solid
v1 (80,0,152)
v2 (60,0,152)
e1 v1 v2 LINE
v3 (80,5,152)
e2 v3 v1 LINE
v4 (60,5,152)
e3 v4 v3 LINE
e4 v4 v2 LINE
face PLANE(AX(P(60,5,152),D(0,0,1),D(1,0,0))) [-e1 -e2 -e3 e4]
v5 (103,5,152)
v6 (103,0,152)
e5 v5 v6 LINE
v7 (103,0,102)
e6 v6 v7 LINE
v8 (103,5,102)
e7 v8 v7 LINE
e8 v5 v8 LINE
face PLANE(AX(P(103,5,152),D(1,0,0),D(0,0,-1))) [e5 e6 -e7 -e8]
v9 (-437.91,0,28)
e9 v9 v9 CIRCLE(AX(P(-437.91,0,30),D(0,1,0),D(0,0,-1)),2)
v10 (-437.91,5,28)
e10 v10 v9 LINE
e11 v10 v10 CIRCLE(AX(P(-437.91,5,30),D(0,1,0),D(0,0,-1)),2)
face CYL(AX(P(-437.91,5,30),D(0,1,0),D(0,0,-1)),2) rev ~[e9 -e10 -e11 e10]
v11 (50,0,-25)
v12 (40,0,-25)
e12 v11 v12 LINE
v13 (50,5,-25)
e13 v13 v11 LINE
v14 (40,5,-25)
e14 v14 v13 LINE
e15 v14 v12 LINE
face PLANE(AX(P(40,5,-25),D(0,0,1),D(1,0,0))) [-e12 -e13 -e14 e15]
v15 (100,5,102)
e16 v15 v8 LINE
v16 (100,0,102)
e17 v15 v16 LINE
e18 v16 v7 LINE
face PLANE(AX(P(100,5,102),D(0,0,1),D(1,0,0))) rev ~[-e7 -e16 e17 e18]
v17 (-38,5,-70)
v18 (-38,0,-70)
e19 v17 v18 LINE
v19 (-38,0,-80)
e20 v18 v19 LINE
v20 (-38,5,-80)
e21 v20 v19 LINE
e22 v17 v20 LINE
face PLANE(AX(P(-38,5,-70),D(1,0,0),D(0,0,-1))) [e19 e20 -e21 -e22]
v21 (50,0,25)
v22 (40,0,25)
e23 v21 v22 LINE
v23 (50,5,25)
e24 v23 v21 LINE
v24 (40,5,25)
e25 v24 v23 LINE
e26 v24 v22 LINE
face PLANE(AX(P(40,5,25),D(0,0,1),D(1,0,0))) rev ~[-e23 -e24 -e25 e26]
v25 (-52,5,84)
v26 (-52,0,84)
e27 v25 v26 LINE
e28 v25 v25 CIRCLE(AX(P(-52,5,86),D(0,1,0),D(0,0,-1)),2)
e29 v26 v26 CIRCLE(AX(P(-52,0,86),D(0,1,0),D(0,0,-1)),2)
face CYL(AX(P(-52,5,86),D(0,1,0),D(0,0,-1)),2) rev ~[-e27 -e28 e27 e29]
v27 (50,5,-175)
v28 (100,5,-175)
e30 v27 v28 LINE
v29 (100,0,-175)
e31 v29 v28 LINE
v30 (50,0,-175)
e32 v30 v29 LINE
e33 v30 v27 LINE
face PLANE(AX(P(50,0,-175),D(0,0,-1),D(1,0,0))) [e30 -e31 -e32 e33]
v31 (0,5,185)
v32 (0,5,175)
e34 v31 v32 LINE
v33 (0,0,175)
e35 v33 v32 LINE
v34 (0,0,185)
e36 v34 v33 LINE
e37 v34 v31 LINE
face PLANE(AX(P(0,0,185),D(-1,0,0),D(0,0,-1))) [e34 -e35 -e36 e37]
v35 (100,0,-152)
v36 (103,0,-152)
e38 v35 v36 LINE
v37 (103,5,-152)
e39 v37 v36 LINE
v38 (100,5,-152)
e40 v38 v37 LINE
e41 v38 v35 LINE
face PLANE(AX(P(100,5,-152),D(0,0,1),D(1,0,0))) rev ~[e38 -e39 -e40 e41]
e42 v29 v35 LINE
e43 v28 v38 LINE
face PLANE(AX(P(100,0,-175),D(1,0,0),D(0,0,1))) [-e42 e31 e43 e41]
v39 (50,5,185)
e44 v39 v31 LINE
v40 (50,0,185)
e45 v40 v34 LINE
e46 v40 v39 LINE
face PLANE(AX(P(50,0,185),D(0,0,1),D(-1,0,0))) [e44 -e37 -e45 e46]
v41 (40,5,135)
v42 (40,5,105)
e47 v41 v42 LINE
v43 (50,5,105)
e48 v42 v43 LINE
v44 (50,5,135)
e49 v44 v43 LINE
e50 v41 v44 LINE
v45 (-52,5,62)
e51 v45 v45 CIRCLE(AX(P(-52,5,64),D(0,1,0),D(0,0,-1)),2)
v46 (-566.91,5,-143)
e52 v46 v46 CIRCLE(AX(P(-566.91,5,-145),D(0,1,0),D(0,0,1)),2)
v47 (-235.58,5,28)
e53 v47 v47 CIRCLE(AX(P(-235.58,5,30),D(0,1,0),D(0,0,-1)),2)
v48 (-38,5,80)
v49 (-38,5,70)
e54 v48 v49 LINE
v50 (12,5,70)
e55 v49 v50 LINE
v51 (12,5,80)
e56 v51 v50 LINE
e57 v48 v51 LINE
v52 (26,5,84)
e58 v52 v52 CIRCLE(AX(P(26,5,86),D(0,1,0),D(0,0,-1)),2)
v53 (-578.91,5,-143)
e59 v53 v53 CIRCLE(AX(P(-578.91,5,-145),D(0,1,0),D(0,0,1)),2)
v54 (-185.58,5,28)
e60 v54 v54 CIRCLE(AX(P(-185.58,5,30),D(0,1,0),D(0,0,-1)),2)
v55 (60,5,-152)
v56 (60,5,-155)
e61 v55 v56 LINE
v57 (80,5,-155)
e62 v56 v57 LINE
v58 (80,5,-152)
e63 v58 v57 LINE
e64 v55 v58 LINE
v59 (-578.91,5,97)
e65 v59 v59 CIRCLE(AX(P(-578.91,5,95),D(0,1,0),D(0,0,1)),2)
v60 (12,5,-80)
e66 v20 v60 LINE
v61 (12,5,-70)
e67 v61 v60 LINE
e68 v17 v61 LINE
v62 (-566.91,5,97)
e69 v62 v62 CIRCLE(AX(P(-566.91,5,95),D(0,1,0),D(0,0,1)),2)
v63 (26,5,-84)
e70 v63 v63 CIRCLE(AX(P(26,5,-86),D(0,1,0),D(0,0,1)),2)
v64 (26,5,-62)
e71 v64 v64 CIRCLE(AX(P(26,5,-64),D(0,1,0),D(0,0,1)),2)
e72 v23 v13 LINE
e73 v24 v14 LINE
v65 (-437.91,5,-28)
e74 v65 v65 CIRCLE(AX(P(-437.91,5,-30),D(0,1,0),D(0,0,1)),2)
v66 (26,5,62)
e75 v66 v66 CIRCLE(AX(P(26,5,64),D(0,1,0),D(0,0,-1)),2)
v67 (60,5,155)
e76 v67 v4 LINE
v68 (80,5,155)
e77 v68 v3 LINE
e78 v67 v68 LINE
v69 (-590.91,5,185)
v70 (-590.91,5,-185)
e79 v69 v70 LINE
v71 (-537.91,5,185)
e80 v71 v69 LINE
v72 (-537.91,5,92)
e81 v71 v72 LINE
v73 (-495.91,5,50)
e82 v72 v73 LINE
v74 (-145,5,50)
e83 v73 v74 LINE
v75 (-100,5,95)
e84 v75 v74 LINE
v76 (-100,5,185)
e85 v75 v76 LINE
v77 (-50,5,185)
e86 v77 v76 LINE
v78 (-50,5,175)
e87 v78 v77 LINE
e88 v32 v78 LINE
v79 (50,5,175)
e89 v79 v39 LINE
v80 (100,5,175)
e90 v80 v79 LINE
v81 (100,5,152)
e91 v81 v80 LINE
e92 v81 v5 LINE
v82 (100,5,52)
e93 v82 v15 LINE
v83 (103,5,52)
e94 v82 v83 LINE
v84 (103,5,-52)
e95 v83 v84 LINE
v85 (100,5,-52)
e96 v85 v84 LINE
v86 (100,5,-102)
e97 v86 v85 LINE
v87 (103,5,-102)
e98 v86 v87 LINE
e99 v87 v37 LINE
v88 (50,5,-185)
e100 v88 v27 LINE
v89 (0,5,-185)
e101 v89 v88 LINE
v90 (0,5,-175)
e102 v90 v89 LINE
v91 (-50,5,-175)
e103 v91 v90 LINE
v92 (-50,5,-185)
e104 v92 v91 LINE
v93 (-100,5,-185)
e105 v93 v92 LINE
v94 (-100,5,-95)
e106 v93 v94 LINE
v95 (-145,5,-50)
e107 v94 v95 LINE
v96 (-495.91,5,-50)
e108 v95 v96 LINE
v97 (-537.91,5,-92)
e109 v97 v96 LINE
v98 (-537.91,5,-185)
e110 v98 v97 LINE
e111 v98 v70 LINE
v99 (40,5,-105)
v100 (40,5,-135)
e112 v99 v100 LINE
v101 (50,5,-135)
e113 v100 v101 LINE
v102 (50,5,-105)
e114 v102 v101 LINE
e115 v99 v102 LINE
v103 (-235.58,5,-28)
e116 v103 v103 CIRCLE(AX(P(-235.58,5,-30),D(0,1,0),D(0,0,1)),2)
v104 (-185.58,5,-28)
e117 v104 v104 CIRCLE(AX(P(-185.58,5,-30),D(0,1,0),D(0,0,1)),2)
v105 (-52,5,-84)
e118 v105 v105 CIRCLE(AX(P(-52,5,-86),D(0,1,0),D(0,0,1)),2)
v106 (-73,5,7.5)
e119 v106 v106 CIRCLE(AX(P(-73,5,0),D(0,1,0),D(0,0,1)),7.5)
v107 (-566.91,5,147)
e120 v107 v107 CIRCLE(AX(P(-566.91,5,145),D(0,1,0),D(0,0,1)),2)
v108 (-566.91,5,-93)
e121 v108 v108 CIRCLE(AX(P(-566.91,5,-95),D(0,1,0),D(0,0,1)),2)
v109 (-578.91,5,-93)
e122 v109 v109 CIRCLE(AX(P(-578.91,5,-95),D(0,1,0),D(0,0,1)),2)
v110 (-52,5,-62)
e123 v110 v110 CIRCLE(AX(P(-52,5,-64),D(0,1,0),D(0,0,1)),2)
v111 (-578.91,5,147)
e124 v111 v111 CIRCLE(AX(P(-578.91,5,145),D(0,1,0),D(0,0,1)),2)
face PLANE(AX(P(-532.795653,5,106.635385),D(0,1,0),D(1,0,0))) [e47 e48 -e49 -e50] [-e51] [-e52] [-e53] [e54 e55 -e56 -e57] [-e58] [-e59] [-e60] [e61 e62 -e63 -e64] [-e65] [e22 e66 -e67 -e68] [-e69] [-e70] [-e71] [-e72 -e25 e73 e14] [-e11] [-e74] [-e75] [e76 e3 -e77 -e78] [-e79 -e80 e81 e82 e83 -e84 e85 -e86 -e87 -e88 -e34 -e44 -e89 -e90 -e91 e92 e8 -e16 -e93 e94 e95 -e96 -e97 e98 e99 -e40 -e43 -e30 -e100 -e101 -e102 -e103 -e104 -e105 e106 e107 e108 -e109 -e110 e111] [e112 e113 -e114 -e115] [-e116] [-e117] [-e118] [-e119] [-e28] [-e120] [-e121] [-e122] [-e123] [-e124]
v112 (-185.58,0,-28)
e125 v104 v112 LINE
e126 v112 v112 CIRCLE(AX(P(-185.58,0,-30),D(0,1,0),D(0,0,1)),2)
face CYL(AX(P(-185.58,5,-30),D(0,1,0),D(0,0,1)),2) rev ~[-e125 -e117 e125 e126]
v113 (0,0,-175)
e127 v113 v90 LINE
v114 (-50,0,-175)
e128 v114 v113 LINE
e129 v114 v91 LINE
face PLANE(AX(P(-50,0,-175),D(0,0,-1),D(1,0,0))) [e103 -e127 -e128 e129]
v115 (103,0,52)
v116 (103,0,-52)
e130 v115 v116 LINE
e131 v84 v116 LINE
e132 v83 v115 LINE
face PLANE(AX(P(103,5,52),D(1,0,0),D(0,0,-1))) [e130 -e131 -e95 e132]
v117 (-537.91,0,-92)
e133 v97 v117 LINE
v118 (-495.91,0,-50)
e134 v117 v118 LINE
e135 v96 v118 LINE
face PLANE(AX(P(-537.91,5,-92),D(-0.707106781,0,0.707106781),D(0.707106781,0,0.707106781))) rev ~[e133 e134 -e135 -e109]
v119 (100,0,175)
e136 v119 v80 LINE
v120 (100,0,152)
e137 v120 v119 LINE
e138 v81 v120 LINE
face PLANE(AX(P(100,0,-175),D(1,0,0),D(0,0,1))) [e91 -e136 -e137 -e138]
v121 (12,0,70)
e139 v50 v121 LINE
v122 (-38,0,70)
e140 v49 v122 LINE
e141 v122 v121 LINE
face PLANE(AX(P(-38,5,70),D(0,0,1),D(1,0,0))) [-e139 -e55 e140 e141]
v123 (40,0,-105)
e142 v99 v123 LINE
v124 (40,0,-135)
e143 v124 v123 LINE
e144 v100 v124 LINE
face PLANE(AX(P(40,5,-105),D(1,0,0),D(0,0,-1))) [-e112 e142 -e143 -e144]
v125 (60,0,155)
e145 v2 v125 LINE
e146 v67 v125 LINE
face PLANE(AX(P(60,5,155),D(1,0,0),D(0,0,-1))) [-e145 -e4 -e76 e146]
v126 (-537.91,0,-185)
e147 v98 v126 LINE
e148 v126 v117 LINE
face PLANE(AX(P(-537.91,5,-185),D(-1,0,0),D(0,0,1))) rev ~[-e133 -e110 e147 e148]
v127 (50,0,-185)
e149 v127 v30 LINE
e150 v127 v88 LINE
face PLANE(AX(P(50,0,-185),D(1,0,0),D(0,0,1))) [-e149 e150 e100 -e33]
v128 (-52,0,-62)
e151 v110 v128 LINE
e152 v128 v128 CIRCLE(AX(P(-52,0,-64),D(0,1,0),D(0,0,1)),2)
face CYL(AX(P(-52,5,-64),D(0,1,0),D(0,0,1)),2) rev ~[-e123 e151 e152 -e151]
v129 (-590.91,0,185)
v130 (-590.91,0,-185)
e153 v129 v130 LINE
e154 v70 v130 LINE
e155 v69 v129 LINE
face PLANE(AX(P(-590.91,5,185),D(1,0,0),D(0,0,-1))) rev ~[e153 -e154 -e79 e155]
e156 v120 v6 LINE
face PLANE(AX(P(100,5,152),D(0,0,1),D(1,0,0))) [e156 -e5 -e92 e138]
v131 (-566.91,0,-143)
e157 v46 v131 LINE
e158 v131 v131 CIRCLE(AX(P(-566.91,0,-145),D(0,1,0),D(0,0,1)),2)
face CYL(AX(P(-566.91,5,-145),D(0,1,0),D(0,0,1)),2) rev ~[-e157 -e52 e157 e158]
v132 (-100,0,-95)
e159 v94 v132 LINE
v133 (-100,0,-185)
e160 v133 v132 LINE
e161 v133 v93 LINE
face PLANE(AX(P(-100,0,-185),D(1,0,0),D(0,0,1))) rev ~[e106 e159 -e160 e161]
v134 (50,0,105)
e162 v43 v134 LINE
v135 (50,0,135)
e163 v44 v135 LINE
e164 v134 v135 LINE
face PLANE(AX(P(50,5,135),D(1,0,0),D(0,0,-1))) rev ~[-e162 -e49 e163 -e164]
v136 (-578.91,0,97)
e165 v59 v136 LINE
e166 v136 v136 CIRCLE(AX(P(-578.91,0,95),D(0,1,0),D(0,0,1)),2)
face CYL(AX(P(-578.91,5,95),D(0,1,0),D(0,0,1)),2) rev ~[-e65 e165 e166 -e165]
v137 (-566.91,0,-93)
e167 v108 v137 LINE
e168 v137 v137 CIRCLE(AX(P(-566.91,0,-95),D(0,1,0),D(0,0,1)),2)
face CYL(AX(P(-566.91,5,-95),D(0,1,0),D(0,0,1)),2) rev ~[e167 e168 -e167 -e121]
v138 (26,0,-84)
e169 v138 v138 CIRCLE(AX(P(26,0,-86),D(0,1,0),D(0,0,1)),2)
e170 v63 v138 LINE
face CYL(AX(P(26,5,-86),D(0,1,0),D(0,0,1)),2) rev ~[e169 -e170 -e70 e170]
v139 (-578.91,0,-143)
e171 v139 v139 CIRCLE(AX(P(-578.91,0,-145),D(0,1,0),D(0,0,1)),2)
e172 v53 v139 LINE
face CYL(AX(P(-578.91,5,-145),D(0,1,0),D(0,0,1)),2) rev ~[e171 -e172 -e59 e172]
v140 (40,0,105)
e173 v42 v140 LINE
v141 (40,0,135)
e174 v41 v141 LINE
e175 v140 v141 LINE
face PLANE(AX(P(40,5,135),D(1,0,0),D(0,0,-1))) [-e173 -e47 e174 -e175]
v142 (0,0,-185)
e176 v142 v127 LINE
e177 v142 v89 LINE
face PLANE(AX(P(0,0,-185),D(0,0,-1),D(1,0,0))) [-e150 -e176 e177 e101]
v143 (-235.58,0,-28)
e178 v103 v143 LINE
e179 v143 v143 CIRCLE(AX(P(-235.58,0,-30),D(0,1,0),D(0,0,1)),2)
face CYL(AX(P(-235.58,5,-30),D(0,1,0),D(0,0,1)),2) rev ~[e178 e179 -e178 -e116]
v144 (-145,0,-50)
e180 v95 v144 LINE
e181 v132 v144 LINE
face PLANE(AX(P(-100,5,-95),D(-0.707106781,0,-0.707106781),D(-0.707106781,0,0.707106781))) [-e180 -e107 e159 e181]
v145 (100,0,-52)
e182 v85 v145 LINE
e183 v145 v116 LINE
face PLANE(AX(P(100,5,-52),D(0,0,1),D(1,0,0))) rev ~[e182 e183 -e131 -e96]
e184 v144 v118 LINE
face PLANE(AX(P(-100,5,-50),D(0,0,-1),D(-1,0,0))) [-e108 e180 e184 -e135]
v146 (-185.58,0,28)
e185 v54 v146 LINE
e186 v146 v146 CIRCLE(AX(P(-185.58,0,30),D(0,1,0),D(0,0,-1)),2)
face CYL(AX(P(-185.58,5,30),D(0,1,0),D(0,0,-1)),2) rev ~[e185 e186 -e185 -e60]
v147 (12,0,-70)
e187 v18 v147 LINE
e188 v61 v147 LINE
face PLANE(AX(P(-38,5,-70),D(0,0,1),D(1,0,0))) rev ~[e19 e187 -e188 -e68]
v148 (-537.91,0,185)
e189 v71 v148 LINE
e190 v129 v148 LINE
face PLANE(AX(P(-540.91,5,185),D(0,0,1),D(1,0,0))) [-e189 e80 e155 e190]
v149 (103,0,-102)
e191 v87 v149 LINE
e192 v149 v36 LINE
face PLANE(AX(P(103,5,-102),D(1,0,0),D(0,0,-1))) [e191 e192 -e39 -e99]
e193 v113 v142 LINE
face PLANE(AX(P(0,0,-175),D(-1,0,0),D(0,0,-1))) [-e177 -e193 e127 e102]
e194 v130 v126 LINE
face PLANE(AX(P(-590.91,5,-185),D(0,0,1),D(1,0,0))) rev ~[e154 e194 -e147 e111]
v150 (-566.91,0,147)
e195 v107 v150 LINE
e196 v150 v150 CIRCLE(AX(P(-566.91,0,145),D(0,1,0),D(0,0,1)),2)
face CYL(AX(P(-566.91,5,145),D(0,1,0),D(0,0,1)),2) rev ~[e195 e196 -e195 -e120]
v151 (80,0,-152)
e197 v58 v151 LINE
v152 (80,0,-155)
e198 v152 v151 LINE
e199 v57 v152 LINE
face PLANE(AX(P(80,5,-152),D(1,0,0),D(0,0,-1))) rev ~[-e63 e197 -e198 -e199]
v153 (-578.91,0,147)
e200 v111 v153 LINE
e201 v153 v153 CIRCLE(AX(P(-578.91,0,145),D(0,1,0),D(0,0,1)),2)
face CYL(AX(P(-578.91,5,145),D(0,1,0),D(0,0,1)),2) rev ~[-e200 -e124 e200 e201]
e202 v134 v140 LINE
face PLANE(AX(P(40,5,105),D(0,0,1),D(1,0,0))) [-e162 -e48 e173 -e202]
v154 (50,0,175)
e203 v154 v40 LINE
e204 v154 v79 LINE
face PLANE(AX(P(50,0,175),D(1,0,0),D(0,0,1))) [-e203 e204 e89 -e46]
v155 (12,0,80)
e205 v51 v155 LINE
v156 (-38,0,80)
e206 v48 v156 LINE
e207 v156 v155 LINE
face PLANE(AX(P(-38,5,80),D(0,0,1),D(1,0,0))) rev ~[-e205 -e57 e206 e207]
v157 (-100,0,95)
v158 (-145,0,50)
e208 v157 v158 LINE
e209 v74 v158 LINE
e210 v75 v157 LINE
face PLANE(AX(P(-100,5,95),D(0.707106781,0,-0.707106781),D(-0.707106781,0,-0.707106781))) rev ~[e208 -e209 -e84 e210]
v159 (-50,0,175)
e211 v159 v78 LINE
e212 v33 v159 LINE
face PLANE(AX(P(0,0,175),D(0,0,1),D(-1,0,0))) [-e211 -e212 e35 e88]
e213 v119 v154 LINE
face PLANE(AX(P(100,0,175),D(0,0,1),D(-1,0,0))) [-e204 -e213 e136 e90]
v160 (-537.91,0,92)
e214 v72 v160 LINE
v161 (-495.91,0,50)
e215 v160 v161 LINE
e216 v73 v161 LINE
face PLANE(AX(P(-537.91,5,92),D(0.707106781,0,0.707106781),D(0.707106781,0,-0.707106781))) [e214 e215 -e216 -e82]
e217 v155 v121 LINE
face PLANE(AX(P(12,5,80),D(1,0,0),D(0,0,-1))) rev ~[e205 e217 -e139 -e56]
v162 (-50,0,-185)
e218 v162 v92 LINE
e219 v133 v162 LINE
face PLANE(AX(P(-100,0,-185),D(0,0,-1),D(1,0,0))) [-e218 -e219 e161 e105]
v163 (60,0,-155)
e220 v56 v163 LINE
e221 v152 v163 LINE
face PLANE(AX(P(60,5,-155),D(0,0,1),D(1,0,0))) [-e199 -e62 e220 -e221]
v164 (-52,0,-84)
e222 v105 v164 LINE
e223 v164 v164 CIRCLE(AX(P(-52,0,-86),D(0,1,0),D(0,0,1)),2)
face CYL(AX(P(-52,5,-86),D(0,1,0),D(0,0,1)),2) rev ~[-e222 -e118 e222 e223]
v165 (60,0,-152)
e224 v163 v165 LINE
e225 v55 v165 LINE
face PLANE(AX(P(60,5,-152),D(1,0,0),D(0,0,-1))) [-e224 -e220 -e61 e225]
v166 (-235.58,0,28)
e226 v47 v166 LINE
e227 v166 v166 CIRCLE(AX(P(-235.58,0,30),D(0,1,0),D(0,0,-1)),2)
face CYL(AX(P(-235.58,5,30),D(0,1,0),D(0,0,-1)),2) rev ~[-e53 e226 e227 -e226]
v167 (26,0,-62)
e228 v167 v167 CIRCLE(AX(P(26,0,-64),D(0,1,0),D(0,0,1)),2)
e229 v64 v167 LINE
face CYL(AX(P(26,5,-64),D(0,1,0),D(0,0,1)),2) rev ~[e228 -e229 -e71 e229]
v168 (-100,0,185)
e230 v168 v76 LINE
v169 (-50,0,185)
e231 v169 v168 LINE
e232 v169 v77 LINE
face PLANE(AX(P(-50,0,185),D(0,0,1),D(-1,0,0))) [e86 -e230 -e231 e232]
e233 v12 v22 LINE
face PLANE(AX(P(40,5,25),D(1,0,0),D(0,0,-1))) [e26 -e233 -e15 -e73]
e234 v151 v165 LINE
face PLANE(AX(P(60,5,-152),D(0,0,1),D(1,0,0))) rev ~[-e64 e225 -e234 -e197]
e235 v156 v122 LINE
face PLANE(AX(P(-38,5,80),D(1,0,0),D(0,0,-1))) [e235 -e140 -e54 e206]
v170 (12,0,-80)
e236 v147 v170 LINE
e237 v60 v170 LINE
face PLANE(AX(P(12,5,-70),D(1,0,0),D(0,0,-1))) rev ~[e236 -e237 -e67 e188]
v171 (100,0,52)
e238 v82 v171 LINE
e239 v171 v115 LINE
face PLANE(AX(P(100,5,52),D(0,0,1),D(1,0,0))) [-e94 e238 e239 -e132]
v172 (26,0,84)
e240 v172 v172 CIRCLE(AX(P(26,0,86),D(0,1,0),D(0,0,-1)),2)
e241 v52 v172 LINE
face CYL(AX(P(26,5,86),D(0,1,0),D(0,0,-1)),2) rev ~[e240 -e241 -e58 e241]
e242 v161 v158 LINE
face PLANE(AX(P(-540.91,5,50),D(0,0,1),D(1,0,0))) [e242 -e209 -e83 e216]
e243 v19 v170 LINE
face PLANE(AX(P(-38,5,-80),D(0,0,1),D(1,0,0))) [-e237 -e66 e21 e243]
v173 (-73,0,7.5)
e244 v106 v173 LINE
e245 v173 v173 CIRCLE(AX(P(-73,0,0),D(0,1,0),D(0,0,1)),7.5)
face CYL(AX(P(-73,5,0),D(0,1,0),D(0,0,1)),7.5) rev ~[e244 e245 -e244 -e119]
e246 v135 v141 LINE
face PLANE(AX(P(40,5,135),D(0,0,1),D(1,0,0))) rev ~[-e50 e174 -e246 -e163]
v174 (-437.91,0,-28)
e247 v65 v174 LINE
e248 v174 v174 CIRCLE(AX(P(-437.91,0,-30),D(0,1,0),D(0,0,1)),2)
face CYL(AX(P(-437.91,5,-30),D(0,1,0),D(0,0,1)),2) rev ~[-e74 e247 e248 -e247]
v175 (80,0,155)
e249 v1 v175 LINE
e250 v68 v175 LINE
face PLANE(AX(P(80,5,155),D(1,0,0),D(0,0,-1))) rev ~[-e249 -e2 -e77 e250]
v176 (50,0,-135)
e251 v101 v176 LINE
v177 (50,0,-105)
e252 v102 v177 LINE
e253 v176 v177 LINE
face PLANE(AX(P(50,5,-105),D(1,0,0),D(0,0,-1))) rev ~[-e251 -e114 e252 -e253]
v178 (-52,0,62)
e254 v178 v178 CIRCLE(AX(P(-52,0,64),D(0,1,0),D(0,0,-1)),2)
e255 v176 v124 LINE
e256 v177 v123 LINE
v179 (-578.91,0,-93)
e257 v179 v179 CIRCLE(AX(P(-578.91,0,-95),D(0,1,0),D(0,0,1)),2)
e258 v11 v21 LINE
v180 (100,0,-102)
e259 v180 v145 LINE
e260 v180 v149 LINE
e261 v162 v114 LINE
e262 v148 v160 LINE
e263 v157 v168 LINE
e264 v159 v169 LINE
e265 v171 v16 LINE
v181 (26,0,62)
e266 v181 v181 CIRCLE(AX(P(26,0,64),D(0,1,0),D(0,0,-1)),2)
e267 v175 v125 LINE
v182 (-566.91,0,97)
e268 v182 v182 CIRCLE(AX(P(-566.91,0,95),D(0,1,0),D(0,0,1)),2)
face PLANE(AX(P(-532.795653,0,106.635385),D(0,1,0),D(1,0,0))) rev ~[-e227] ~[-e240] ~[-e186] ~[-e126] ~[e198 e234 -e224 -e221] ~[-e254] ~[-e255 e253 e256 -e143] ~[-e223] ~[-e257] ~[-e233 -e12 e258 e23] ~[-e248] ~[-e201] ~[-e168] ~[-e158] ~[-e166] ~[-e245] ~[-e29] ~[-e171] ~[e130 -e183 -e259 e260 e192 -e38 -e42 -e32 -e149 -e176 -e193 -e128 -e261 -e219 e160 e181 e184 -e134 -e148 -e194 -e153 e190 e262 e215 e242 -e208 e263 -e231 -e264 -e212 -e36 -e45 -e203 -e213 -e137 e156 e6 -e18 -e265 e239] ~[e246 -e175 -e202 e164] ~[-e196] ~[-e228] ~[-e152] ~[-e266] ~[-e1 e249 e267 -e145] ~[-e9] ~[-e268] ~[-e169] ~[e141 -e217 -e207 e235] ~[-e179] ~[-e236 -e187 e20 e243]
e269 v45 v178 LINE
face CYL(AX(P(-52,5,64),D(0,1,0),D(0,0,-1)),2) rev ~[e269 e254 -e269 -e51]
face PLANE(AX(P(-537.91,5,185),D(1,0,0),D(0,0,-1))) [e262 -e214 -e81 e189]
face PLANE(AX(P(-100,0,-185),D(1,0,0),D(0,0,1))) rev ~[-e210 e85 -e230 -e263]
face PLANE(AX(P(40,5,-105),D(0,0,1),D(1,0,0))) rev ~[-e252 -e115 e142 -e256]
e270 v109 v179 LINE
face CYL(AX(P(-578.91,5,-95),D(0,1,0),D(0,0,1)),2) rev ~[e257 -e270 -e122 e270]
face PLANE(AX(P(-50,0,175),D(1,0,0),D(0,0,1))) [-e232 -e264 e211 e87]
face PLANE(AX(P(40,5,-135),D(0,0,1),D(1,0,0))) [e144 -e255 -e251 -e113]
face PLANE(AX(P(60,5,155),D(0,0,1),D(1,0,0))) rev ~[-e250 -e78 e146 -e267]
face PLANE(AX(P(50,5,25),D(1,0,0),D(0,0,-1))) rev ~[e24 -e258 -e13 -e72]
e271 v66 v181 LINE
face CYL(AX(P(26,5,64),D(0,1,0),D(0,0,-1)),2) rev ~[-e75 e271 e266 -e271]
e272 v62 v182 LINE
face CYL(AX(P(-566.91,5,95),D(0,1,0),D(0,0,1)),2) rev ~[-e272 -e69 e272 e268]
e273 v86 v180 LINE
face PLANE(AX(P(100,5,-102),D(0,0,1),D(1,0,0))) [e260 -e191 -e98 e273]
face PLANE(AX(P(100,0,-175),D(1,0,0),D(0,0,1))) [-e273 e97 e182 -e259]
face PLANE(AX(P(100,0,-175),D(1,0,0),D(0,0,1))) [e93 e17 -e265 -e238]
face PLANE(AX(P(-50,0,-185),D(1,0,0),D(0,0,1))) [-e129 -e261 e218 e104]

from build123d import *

# Parameters (mm, degrees)
EXTRUDE_1_DEPTH     = 5
SKETCH_2_W          = 20
SKETCH_2_H          = 3
SKETCH_2_W_2        = 10
SKETCH_2_H_2        = 30
SKETCH_2_H_3        = 50
CUT_EXTRUDE_1_DEPTH = 211.35683968
EXTRUDE_2_DEPTH     = 5
SKETCH_4_R          = 2
CUT_EXTRUDE_2_DEPTH = 620.212910153
SKETCH_6_W          = 3
SKETCH_6_H          = 50
SKETCH_6_H_2        = 104
EXTRUDE_3_DEPTH     = 5
EXTRUDE_4_DEPTH     = 5
SKETCH_8_R          = 2
SKETCH_8_W          = 50
SKETCH_8_H          = 10
CUT_EXTRUDE_3_DEPTH = 620.212910153
SKETCH_9_R          = 2
CUT_EXTRUDE_4_DEPTH = 620.212910153
SKETCH_10_R         = 7.5
CUT_EXTRUDE_5_DEPTH = 620.212910153


with BuildPart() as part:
    # 스케치1 → 보스-돌출1 (new body)
    with BuildSketch(Plane(origin=(0, 0, 0), x_dir=(1, 0, 0), z_dir=(0, 1, 0))):
        Polygon((-50, 175), (0, 175), (0, 185), (50, 185), (50, 175), (100, 175), (100, -175), (50, -175), (50, -185), (0, -185), (0, -175), (-50, -175), (-50, -185), (-100, -185), (-100, -175), (-100, 175), (-100, 185), (-50, 185), align=None)
    extrude(amount=EXTRUDE_1_DEPTH)

    # 스케치2 → 컷-돌출1 (cut, through all)
    with BuildSketch(Plane(origin=(0, 5, 0), x_dir=(1, 0, 0), z_dir=(0, 1, 0))):
        with Locations((70, 153.5)):
            Rectangle(SKETCH_2_W, SKETCH_2_H)
        with Locations((70, -153.5)):
            Rectangle(SKETCH_2_W, SKETCH_2_H)
        with Locations((45, 120)):
            Rectangle(SKETCH_2_W_2, SKETCH_2_H_2)
        with Locations((45, -120)):
            Rectangle(SKETCH_2_W_2, SKETCH_2_H_2)
        with Locations((45, 0)):
            Rectangle(SKETCH_2_W_2, SKETCH_2_H_3)
    extrude(amount=-CUT_EXTRUDE_1_DEPTH, mode=Mode.SUBTRACT)

    # 스케치3 → 보스-돌출2 (add)
    with BuildSketch(Plane(origin=(0, 5, 0), x_dir=(1, 0, 0), z_dir=(0, 1, 0))):
        Polygon((-540.91, 50), (-225, 50), (-100, 50), (-100, -50), (-225, -50), (-540.91, -50), (-540.91, -185), (-590.91, -185), (-590.91, 185), (-540.91, 185), align=None)
    extrude(amount=-EXTRUDE_2_DEPTH)

    # 스케치4 → 컷-돌출2 (cut, through all)
    with BuildSketch(Plane(origin=(0, 5, 0), x_dir=(1, 0, 0), z_dir=(0, 1, 0))):
        with Locations(Location((-578.91, 145, 0), (0, 0, 270))):
            Circle(SKETCH_4_R)
        with Locations(Location((-578.91, 95, 0), (0, 0, 270))):
            Circle(SKETCH_4_R)
        with Locations(Location((-566.91, 145, 0), (0, 0, 270))):
            Circle(SKETCH_4_R)
        with Locations(Location((-566.91, 95, 0), (0, 0, 270))):
            Circle(SKETCH_4_R)
        with Locations(Location((-578.91, -145, 0), (0, 0, 270))):
            Circle(SKETCH_4_R)
        with Locations(Location((-578.91, -95, 0), (0, 0, 270))):
            Circle(SKETCH_4_R)
        with Locations(Location((-566.91, -95, 0), (0, 0, 270))):
            Circle(SKETCH_4_R)
        with Locations(Location((-566.91, -145, 0), (0, 0, 270))):
            Circle(SKETCH_4_R)
    extrude(amount=-CUT_EXTRUDE_2_DEPTH, mode=Mode.SUBTRACT)

    # 스케치6 → 보스-돌출3 (add)
    with BuildSketch(Plane(origin=(0, 5, 0), x_dir=(1, 0, 0), z_dir=(0, 1, 0))):
        with Locations((101.5, -127)):
            Rectangle(SKETCH_6_W, SKETCH_6_H)
        with Locations((101.5, 127)):
            Rectangle(SKETCH_6_W, SKETCH_6_H)
        with Locations((101.5, 0)):
            Rectangle(SKETCH_6_W, SKETCH_6_H_2)
    extrude(amount=-EXTRUDE_3_DEPTH)

    # 스케치7 → 보스-돌출4 (add)
    with BuildSketch(Plane(origin=(0, 5, 0), x_dir=(1, 0, 0), z_dir=(0, 1, 0))):
        Polygon((-540.91, -185), (-537.91, -185), (-537.91, -92), (-495.91, -50), (-540.91, -50), align=None)
        Polygon((-537.91, 92), (-495.91, 50), (-540.91, 50), (-540.91, 185), (-537.91, 185), align=None)
        Polygon((-100, 95), (-145, 50), (-100, 50), align=None)
        Polygon((-100, -95), (-145, -50), (-100, -50), align=None)
    extrude(amount=-EXTRUDE_4_DEPTH)

    # 스케치8 → 컷-돌출3 (cut, through all)
    with BuildSketch(Plane(origin=(0, 5, 0), x_dir=(1, 0, 0), z_dir=(0, 1, 0))):
        with Locations(Location((-52, 86, 0), (0, 0, 270))):
            Circle(SKETCH_8_R)
        with Locations(Location((-52, 64, 0), (0, 0, 270))):
            Circle(SKETCH_8_R)
        with Locations(Location((26, 86, 0), (0, 0, 270))):
            Circle(SKETCH_8_R)
        with Locations(Location((26, 64, 0), (0, 0, 270))):
            Circle(SKETCH_8_R)
        with Locations(Location((-52, -86, 0), (0, 0, 90))):
            Circle(SKETCH_8_R)
        with Locations(Location((-52, -64, 0), (0, 0, 90))):
            Circle(SKETCH_8_R)
        with Locations(Location((26, -64, 0), (0, 0, 90))):
            Circle(SKETCH_8_R)
        with Locations(Location((26, -86, 0), (0, 0, 90))):
            Circle(SKETCH_8_R)
        with Locations((-13, 75)):
            Rectangle(SKETCH_8_W, SKETCH_8_H)
        with Locations((-13, -75)):
            Rectangle(SKETCH_8_W, SKETCH_8_H)
    extrude(amount=-CUT_EXTRUDE_3_DEPTH, mode=Mode.SUBTRACT)

    # 스케치9 → 컷-돌출4 (cut, through all)
    with BuildSketch(Plane(origin=(0, 5, 0), x_dir=(1, 0, 0), z_dir=(0, 1, 0))):
        with Locations(Location((-437.91, 30, 0), (0, 0, 270))):
            Circle(SKETCH_9_R)
        with Locations(Location((-235.58, 30, 0), (0, 0, 270))):
            Circle(SKETCH_9_R)
        with Locations(Location((-185.58, 30, 0), (0, 0, 270))):
            Circle(SKETCH_9_R)
        with Locations(Location((-185.58, -30, 0), (0, 0, 90))):
            Circle(SKETCH_9_R)
        with Locations(Location((-235.58, -30, 0), (0, 0, 90))):
            Circle(SKETCH_9_R)
        with Locations(Location((-437.91, -30, 0), (0, 0, 90))):
            Circle(SKETCH_9_R)
    extrude(amount=-CUT_EXTRUDE_4_DEPTH, mode=Mode.SUBTRACT)

    # 스케치10 → 컷-돌출5 (cut, through all)
    with BuildSketch(Plane(origin=(0, 5, 0), x_dir=(1, 0, 0), z_dir=(0, 1, 0))):
        with Locations(Location((-73, 0, 0), (0, 0, 270))):
            Circle(SKETCH_10_R)
    extrude(amount=-CUT_EXTRUDE_5_DEPTH, mode=Mode.SUBTRACT)


solid = part.part
